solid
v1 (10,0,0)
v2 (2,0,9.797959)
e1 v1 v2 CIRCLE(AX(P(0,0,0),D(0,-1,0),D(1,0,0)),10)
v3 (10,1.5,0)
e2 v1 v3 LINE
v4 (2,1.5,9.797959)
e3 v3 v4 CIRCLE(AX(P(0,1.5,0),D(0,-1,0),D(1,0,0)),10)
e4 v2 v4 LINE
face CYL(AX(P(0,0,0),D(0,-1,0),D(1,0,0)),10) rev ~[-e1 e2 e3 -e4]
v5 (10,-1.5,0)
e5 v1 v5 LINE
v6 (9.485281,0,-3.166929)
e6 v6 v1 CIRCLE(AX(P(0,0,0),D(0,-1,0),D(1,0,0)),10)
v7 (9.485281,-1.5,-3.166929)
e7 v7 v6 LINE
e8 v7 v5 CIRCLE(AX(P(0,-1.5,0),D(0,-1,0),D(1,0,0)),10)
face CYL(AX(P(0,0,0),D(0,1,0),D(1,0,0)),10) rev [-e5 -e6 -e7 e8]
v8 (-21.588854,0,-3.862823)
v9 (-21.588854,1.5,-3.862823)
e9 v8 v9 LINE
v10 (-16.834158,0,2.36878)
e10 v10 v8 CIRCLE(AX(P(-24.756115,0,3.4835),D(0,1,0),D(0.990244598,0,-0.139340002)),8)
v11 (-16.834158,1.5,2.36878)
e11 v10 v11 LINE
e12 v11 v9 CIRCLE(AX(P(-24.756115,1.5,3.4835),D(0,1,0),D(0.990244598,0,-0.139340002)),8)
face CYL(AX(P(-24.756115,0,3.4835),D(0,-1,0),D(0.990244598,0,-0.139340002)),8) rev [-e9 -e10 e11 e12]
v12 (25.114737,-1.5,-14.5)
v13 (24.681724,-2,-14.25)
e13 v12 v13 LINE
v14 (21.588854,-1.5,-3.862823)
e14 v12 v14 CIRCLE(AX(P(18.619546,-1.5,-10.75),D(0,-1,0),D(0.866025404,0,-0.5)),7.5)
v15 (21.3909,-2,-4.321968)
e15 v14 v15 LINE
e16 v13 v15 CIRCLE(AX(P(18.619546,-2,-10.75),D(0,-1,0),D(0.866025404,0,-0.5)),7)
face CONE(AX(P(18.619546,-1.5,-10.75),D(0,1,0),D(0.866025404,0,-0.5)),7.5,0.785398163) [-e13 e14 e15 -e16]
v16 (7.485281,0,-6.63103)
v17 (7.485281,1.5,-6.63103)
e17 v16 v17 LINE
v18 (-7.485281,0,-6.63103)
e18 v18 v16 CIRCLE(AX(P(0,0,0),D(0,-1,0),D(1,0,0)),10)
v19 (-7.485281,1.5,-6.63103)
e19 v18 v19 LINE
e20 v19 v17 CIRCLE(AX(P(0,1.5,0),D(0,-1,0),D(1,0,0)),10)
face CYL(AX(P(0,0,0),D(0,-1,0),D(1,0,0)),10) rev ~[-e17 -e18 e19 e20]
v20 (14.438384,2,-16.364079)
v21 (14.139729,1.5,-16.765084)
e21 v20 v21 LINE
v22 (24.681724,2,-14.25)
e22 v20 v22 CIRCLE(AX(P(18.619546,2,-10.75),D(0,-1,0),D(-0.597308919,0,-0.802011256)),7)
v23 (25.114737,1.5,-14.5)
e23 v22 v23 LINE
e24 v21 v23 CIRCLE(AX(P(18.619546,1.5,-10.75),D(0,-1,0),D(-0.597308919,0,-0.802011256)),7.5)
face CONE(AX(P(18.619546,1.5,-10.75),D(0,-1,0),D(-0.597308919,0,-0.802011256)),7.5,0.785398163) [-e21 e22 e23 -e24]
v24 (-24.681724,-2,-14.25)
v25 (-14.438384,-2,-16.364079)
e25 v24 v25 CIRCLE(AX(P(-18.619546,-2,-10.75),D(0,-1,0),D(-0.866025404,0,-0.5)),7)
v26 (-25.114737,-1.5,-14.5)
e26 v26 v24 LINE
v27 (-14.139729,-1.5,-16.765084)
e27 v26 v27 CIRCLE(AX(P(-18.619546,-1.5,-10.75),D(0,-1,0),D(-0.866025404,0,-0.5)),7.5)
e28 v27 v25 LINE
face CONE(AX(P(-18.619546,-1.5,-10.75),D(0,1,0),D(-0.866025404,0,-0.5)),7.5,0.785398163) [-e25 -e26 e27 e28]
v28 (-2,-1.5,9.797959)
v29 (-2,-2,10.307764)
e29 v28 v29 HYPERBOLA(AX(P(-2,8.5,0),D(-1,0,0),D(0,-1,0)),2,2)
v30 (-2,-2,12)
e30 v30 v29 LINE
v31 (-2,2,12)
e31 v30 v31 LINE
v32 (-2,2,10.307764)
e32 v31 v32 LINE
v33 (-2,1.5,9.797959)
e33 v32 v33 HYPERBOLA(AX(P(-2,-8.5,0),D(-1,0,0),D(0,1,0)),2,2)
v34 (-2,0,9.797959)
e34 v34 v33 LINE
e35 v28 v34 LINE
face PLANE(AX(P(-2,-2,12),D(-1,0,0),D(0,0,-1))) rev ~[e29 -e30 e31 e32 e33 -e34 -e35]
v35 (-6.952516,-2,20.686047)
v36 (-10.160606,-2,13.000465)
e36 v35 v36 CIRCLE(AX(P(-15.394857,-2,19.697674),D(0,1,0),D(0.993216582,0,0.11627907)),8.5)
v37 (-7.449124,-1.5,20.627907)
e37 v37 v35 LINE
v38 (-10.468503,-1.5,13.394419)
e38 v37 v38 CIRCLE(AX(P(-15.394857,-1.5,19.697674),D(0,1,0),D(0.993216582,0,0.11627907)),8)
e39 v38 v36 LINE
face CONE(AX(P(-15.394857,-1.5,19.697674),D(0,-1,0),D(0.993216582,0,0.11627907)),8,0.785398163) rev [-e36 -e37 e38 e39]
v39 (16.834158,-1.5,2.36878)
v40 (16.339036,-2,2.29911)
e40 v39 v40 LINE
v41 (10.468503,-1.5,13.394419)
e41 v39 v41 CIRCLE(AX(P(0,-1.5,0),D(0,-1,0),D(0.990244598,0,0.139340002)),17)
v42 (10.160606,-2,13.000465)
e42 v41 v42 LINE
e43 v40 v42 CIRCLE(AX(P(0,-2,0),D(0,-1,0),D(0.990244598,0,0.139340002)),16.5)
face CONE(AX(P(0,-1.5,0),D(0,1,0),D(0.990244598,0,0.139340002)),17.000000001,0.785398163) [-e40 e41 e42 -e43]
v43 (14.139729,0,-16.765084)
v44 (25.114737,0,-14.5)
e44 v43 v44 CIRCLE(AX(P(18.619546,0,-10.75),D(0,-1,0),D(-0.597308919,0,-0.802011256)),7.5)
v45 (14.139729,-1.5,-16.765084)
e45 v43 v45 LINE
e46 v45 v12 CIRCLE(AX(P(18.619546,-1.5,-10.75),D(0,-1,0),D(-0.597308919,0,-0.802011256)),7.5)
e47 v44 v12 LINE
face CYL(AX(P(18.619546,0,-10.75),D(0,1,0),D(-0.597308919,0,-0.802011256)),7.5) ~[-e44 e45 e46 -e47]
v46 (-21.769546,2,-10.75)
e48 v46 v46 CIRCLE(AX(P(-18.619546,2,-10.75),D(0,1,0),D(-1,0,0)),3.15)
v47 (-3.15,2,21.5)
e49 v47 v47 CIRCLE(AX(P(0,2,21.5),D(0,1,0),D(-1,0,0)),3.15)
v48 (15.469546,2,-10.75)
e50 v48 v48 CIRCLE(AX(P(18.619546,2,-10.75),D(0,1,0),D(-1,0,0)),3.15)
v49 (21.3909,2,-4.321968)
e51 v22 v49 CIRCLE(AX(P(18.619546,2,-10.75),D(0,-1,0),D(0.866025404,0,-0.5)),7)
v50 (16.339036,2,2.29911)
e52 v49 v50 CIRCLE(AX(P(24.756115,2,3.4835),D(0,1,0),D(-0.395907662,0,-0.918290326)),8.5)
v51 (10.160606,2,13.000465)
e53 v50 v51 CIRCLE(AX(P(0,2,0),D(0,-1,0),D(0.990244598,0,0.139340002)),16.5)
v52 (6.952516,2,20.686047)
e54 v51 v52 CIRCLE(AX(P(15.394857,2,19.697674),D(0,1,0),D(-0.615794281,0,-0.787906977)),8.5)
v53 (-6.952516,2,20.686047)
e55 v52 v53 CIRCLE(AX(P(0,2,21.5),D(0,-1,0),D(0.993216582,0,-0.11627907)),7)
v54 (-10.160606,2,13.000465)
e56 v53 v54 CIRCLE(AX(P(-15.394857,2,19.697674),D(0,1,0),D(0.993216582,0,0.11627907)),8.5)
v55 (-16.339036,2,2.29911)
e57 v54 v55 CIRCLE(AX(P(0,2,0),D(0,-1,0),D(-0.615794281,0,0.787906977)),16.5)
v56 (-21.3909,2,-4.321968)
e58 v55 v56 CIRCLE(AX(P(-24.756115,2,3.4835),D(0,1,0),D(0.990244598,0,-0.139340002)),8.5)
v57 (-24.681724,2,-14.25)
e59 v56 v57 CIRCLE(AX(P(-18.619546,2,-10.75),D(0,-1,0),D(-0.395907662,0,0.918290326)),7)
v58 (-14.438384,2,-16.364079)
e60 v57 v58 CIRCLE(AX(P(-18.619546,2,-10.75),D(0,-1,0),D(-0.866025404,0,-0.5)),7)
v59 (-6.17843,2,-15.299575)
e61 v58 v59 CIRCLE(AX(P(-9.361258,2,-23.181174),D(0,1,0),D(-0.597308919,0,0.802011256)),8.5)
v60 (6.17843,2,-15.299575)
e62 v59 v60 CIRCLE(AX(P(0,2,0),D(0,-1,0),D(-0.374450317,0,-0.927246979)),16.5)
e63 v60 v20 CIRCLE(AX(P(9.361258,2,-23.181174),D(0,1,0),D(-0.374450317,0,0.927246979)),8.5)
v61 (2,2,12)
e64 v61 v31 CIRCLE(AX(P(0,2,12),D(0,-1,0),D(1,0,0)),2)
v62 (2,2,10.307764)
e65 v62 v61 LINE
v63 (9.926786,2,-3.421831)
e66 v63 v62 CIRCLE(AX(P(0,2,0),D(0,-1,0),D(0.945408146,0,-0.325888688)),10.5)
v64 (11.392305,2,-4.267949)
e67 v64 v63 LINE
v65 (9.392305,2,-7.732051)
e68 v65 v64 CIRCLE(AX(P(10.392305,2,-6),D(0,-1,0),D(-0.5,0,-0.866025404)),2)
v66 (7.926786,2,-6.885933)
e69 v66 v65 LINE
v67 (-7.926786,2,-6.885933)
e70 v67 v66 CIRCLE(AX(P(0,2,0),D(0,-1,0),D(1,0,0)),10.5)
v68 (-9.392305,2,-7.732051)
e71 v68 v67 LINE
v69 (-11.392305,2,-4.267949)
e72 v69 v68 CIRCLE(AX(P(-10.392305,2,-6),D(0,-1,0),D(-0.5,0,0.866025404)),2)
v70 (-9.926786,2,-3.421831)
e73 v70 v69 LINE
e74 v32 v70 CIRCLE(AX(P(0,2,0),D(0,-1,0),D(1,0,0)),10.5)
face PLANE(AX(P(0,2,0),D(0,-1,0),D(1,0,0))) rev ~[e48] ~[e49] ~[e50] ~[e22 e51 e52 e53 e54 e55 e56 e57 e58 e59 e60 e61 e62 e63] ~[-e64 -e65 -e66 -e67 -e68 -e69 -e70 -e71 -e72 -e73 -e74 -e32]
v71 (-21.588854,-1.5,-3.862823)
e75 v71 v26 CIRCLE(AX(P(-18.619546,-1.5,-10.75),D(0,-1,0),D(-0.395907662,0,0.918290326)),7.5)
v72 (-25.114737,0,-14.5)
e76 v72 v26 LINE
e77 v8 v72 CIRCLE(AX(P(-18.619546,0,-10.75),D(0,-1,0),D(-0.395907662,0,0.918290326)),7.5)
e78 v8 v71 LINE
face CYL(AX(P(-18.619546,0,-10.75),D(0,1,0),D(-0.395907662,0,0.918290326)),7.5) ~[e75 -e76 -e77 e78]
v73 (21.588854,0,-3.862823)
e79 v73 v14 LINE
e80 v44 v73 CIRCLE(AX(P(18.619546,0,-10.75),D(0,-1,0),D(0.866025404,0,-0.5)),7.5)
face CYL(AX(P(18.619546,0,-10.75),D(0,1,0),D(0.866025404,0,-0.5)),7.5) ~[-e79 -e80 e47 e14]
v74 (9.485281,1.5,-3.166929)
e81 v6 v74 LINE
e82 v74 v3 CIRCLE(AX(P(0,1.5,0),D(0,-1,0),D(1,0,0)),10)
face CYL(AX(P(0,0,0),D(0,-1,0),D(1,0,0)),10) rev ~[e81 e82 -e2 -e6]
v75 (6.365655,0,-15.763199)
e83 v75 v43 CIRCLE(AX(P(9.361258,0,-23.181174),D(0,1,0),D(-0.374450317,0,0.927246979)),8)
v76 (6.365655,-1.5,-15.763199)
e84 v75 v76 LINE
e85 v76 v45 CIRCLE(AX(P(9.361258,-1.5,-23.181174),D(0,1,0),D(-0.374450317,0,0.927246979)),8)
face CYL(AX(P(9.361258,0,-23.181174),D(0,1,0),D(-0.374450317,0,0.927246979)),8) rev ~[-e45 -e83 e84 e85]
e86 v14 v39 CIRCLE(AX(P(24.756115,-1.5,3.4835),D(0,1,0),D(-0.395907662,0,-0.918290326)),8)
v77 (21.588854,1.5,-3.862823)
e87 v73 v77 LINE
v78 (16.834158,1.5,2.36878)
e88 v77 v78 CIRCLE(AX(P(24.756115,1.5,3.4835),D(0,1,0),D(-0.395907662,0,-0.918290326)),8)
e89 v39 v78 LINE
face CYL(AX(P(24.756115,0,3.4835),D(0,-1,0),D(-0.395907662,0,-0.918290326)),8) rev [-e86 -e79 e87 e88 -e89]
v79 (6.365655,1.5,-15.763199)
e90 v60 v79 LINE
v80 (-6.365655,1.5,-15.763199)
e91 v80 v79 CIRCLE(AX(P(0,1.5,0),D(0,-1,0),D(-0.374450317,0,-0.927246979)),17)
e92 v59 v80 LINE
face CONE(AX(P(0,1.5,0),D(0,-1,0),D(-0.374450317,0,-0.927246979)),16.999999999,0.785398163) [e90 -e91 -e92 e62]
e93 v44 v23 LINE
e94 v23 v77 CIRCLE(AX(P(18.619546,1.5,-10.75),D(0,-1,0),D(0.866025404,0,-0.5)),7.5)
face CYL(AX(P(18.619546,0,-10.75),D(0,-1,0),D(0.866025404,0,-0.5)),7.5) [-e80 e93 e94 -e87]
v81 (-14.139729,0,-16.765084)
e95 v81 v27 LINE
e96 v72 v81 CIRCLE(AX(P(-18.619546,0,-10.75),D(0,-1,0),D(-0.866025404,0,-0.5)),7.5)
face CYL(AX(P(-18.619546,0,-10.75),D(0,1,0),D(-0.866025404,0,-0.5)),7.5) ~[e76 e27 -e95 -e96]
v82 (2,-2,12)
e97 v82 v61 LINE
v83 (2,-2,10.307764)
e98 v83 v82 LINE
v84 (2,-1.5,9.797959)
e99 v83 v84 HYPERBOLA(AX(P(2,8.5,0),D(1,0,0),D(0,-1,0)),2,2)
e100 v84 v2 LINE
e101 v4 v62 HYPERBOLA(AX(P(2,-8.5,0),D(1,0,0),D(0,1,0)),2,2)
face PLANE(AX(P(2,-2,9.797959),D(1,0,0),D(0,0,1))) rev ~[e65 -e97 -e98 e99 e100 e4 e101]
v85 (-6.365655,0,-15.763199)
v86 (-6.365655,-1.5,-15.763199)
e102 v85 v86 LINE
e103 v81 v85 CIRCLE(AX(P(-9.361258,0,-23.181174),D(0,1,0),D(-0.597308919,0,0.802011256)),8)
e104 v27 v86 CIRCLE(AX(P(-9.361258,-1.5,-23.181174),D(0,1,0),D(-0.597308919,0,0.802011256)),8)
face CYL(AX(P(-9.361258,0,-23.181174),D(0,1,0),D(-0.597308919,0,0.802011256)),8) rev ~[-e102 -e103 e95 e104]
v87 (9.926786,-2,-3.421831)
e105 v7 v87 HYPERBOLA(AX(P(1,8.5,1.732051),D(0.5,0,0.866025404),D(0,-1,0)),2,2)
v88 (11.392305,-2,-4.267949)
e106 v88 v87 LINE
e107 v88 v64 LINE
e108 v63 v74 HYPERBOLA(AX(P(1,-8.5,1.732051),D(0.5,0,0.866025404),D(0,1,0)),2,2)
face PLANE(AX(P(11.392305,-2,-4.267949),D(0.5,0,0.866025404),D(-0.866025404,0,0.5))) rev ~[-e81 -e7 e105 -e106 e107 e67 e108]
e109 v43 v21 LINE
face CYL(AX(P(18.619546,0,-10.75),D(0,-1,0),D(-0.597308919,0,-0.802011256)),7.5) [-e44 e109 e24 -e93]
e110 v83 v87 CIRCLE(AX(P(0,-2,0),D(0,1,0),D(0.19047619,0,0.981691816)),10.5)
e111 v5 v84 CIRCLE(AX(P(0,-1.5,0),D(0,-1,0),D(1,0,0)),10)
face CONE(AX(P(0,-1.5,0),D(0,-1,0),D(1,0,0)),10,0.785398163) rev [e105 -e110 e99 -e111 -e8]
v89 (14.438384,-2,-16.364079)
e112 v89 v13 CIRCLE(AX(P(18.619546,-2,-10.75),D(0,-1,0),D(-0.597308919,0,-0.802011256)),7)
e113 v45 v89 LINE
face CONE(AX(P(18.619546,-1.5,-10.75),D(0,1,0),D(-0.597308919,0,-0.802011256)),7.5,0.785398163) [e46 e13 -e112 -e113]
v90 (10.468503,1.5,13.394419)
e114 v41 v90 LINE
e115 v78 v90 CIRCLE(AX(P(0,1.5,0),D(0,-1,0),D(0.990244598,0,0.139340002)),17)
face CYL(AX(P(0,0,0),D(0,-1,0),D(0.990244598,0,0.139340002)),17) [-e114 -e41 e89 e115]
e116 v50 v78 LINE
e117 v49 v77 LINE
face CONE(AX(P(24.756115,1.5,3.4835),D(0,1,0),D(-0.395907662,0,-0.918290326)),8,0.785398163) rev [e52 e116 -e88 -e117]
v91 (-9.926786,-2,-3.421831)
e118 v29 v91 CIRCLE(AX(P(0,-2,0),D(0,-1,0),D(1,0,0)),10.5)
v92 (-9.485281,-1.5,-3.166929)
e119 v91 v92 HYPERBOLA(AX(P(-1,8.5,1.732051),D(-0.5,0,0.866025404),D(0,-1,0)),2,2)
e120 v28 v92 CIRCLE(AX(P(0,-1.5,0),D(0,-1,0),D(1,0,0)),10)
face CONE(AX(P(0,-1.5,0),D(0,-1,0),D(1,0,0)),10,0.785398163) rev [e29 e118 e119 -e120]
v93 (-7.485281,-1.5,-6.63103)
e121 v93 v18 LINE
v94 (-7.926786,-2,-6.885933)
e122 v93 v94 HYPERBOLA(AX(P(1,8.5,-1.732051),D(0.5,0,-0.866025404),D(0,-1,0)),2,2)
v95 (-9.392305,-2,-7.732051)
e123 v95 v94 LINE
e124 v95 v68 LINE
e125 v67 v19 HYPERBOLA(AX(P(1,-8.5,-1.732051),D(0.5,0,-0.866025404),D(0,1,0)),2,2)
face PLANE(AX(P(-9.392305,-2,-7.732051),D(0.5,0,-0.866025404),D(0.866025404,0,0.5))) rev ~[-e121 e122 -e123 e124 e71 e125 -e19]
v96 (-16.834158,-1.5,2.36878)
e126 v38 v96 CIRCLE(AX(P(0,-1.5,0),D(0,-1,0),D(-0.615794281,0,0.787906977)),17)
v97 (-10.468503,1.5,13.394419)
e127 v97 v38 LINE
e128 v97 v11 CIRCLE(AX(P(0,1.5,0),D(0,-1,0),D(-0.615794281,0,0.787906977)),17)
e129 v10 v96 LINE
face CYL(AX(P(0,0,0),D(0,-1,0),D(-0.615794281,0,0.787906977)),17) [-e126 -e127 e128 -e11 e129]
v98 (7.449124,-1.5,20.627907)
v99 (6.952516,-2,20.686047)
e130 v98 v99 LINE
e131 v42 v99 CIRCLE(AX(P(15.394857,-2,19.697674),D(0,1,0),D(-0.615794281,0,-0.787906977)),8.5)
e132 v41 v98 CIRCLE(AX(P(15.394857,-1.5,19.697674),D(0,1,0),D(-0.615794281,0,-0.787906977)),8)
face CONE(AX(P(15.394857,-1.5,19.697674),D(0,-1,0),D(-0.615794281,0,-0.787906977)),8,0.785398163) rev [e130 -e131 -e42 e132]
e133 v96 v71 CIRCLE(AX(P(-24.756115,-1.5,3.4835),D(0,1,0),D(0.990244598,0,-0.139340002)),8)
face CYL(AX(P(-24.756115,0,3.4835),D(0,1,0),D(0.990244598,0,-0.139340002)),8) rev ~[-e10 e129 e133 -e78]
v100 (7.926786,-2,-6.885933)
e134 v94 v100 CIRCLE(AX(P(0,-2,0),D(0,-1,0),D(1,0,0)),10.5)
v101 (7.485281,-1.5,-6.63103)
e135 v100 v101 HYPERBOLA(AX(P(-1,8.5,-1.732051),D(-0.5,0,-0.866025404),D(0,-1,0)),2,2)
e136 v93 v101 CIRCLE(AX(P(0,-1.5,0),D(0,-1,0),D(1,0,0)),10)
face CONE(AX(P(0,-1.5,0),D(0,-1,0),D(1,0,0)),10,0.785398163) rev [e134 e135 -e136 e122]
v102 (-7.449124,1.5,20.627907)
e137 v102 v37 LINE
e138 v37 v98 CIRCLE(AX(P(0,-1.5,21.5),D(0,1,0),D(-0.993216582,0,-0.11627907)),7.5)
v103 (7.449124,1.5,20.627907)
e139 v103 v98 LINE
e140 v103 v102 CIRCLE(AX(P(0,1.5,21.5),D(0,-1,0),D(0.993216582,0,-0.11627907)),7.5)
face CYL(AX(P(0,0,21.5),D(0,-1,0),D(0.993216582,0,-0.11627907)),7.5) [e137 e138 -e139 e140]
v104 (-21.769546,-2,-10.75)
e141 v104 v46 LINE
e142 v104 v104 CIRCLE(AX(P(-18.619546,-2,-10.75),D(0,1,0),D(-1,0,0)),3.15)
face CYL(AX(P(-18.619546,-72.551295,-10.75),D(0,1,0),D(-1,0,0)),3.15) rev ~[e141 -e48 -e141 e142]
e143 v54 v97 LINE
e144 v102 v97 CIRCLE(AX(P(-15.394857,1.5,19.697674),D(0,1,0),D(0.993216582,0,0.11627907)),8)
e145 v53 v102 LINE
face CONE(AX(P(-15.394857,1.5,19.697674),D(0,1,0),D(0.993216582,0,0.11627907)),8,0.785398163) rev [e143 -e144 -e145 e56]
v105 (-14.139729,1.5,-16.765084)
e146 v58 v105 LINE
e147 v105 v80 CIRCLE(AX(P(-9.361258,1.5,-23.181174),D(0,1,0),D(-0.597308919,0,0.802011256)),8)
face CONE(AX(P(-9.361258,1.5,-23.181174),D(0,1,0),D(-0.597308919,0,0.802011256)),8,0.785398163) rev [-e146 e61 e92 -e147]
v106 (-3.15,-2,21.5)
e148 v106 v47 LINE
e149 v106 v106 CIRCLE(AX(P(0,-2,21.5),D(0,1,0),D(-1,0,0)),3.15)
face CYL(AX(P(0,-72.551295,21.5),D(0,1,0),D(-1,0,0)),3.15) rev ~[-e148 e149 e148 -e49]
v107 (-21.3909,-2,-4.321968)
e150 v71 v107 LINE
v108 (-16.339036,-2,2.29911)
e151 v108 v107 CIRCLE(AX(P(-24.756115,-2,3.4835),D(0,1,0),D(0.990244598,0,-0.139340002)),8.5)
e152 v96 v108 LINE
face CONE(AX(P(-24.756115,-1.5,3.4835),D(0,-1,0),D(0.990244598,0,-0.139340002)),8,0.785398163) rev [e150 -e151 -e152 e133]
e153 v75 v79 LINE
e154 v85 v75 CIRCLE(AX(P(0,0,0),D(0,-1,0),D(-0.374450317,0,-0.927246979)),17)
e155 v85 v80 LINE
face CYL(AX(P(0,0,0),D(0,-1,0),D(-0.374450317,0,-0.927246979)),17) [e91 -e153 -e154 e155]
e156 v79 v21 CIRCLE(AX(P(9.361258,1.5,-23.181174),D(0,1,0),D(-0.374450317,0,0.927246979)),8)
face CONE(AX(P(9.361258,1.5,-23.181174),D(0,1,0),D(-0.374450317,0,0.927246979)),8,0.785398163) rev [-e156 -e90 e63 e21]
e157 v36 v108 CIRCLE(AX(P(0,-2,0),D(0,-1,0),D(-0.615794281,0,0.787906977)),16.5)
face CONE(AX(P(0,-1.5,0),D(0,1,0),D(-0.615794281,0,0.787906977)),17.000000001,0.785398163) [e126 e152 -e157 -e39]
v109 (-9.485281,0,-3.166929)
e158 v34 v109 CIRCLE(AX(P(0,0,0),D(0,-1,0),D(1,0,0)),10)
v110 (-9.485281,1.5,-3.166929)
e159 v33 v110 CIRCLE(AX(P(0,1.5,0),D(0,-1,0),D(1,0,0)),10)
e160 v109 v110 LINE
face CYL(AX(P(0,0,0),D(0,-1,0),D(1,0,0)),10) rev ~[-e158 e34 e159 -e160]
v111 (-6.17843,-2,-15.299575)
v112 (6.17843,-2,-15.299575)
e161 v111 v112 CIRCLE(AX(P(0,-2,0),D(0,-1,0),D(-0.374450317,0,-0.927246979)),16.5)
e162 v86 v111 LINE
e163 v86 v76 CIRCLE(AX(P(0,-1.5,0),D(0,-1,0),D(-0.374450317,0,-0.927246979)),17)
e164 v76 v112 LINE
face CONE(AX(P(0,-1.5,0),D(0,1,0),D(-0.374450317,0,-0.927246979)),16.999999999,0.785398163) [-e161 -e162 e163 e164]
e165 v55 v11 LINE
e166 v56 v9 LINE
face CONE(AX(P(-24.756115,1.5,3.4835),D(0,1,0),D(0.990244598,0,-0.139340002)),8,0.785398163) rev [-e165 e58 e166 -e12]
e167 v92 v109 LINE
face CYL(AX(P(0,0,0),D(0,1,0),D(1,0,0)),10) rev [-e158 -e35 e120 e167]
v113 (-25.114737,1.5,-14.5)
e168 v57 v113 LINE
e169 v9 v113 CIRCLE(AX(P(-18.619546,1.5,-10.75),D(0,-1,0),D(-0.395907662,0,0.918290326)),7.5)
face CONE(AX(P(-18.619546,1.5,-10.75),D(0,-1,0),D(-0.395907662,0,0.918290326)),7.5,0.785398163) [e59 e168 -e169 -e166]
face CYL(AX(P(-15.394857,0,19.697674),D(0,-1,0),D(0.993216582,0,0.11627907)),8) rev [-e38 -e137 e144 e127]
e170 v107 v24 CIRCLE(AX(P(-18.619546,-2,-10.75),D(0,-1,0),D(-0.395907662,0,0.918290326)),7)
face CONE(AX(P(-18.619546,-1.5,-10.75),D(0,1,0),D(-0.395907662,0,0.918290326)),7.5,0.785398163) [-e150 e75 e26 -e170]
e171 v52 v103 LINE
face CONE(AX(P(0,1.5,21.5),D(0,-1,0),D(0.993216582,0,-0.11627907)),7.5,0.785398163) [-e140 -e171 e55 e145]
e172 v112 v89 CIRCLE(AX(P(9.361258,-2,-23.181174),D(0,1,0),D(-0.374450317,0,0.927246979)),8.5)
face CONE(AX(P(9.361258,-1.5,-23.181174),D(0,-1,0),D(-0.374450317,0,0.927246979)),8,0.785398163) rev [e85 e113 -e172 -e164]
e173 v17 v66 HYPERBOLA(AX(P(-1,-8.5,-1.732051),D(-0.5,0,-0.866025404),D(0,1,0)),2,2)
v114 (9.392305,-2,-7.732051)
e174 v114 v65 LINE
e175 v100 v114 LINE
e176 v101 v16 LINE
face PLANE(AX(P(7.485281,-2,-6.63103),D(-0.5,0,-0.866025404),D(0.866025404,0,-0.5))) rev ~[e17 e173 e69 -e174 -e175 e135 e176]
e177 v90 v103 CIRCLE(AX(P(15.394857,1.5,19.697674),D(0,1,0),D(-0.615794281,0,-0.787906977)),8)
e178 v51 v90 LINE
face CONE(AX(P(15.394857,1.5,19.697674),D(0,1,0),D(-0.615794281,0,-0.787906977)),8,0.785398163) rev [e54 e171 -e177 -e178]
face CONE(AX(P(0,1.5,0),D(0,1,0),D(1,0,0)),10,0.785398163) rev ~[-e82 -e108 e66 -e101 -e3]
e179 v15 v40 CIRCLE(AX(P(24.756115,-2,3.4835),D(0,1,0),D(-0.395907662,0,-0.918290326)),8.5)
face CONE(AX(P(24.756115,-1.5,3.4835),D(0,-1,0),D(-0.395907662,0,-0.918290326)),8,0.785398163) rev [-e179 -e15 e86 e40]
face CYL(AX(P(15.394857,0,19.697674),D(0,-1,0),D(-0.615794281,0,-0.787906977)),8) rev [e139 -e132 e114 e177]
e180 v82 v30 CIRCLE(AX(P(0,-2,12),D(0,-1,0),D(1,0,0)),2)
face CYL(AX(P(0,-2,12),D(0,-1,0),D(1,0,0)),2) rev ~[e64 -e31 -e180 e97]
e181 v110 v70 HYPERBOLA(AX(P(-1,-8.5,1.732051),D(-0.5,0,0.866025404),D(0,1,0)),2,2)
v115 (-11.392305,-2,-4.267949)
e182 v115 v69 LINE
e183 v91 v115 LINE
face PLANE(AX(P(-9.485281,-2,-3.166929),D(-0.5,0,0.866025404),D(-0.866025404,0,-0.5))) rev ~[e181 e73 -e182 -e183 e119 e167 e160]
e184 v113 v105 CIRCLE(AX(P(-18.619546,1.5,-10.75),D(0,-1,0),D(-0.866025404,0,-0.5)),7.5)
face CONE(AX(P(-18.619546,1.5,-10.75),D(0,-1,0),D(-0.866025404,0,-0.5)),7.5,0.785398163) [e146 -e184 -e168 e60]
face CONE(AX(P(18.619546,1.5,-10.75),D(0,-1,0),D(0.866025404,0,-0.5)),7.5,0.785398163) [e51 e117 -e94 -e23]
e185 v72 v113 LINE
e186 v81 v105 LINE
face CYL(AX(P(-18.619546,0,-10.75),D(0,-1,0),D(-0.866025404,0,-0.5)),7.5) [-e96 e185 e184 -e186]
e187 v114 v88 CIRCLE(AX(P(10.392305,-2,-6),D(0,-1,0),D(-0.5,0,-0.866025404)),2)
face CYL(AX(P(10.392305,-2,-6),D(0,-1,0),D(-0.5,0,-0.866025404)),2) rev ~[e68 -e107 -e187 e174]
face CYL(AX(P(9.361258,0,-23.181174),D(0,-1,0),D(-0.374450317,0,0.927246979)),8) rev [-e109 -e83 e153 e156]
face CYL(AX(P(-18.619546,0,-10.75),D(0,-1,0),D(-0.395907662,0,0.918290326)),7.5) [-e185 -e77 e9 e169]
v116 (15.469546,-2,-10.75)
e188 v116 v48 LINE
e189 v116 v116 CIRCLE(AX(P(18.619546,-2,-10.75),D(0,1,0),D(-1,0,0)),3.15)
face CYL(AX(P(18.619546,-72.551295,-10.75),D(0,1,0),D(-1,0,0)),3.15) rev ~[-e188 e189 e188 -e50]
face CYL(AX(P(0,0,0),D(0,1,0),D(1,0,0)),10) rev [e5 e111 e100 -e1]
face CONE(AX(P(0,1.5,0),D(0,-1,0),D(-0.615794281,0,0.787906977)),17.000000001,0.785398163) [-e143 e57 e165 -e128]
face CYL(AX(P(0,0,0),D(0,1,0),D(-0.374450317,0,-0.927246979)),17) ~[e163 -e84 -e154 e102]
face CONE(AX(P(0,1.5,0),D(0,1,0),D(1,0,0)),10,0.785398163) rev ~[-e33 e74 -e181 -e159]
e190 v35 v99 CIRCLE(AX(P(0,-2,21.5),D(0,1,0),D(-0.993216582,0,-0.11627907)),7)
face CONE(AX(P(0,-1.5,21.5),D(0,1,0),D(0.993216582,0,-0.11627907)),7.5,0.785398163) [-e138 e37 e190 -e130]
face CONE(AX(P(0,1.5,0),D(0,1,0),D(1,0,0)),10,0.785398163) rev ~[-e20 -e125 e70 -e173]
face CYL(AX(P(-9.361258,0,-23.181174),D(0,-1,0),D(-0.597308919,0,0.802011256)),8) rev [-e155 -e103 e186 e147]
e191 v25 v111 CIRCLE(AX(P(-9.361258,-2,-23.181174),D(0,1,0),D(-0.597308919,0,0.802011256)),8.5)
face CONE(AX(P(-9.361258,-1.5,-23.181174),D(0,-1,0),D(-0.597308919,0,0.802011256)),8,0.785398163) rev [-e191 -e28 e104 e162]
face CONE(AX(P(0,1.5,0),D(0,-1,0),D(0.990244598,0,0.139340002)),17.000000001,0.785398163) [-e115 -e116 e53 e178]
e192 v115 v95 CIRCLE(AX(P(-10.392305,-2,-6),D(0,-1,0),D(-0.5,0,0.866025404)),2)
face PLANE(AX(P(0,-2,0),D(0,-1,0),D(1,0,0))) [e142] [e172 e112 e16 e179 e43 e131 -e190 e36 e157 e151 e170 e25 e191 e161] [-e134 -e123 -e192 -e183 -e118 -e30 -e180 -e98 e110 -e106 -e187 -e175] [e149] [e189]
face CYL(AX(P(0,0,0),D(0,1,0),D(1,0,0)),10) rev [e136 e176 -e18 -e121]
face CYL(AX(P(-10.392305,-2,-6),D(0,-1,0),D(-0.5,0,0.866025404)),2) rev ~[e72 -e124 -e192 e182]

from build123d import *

# Parameters (mm, degrees)
F0_R          = 10
F1_DEPTH      = 2
F1_DEPTH_BACK = 2
F3_D          = 6.3
F4_SIZE       = 0.5
F6_DEPTH      = 4.001


with BuildPart() as f1:
    # F0 (on Front) → F1 (new body, two sides)
    with BuildSketch(Plane.XZ) as f1_sk:
        with BuildLine():
            ThreePointArc((10.4685027699, 13.3944186047), (8.0122088596, 16.6160342353), (7.4491243619, 20.6279069767))
            ThreePointArc((7.4491243619, 20.6279069767), (5.6031552573, 26.4854439284), (0, 29))
            ThreePointArc((0, 29), (-5.6031552573, 26.4854439284), (-7.4491243619, 20.6279069767))
            ThreePointArc((-7.4491243619, 20.6279069767), (-8.0122088596, 16.6160342353), (-10.4685027699, 13.3944186047))
            ThreePointArc((-10.4685027699, 13.3944186047), (-14.7224318643, 8.5), (-16.8341581655, 2.368780036))
            ThreePointArc((-16.8341581655, 2.368780036), (-18.3960121877, -1.3692407048), (-21.5888536497, -3.862822555))
            ThreePointArc((-21.5888536497, -3.862822555), (-25.7386449011, -8.39024717), (-25.1147367097, -14.5))
            ThreePointArc((-25.1147367097, -14.5), (-20.1354896438, -18.0951967583), (-14.1397292878, -16.7650844217))
            ThreePointArc((-14.1397292878, -16.7650844217), (-10.3838033281, -15.2467935304), (-6.3656553956, -15.7631986406))
            ThreePointArc((-6.3656553956, -15.7631986406), (0, -17), (6.3656553956, -15.7631986406))
            ThreePointArc((6.3656553956, -15.7631986406), (10.3838033281, -15.2467935304), (14.1397292878, -16.7650844217))
            ThreePointArc((14.1397292878, -16.7650844217), (20.1354896438, -18.0951967583), (25.1147367097, -14.5))
            ThreePointArc((25.1147367097, -14.5), (25.7386449011, -8.39024717), (21.5888536497, -3.862822555))
            ThreePointArc((21.5888536497, -3.862822555), (18.3960121877, -1.3692407048), (16.8341581655, 2.368780036))
            ThreePointArc((16.8341581655, 2.368780036), (14.7224318643, 8.5), (10.4685027699, 13.3944186047))
        make_face()
        Circle(F0_R, mode=Mode.SUBTRACT)
    extrude(amount=F1_DEPTH)
    extrude(f1_sk.sketch, amount=-F1_DEPTH_BACK)

    # F3 (through all)
    with Locations(Plane.XZ.offset(2)):
        with Locations((0, 21.5), (-18.6195461814, -10.75), (18.6195461814, -10.75)):
            Hole(F3_D / 2)

    # F4
    f4_edges = [f1.edges().sort_by_distance(p)[0] for p in [
        (-10, -2, 0),
        (-10, 2, 0),
        (0, -2, 29),
        (0, 2, 29),
    ]]
    chamfer(f4_edges, length=F4_SIZE)

    # F5 (on face) → F6 (cut, through all)
    with BuildSketch(Plane.XZ.offset(2)):
        with BuildLine():
            ThreePointArc((-2, 9.7979589711), (0, 10), (2, 9.7979589711))
            Line((2, 9.7979589711), (2, 12))
            ThreePointArc((2, 12), (0, 14), (-2, 12))
            Line((-2, 12), (-2, 9.7979589711))
        make_face()
        with BuildLine():
            Line((-9.4852813742, -3.166928678), (-11.3923048454, -4.2679491924))
            ThreePointArc((-11.3923048454, -4.2679491924), (-12.124355653, -7), (-9.3923048454, -7.7320508076))
            Line((-9.3923048454, -7.7320508076), (-7.4852813742, -6.6310302931))
            ThreePointArc((-7.4852813742, -6.6310302931), (-8.6602540378, -5), (-9.4852813742, -3.166928678))
        make_face()
        with BuildLine():
            Line((7.4852813742, -6.6310302931), (9.3923048454, -7.7320508076))
            ThreePointArc((9.3923048454, -7.7320508076), (12.124355653, -7), (11.3923048454, -4.2679491924))
            Line((11.3923048454, -4.2679491924), (9.4852813742, -3.166928678))
            ThreePointArc((9.4852813742, -3.166928678), (8.6602540378, -5), (7.4852813742, -6.6310302931))
        make_face()
    extrude(amount=-F6_DEPTH, mode=Mode.SUBTRACT)


solid = f1.part
